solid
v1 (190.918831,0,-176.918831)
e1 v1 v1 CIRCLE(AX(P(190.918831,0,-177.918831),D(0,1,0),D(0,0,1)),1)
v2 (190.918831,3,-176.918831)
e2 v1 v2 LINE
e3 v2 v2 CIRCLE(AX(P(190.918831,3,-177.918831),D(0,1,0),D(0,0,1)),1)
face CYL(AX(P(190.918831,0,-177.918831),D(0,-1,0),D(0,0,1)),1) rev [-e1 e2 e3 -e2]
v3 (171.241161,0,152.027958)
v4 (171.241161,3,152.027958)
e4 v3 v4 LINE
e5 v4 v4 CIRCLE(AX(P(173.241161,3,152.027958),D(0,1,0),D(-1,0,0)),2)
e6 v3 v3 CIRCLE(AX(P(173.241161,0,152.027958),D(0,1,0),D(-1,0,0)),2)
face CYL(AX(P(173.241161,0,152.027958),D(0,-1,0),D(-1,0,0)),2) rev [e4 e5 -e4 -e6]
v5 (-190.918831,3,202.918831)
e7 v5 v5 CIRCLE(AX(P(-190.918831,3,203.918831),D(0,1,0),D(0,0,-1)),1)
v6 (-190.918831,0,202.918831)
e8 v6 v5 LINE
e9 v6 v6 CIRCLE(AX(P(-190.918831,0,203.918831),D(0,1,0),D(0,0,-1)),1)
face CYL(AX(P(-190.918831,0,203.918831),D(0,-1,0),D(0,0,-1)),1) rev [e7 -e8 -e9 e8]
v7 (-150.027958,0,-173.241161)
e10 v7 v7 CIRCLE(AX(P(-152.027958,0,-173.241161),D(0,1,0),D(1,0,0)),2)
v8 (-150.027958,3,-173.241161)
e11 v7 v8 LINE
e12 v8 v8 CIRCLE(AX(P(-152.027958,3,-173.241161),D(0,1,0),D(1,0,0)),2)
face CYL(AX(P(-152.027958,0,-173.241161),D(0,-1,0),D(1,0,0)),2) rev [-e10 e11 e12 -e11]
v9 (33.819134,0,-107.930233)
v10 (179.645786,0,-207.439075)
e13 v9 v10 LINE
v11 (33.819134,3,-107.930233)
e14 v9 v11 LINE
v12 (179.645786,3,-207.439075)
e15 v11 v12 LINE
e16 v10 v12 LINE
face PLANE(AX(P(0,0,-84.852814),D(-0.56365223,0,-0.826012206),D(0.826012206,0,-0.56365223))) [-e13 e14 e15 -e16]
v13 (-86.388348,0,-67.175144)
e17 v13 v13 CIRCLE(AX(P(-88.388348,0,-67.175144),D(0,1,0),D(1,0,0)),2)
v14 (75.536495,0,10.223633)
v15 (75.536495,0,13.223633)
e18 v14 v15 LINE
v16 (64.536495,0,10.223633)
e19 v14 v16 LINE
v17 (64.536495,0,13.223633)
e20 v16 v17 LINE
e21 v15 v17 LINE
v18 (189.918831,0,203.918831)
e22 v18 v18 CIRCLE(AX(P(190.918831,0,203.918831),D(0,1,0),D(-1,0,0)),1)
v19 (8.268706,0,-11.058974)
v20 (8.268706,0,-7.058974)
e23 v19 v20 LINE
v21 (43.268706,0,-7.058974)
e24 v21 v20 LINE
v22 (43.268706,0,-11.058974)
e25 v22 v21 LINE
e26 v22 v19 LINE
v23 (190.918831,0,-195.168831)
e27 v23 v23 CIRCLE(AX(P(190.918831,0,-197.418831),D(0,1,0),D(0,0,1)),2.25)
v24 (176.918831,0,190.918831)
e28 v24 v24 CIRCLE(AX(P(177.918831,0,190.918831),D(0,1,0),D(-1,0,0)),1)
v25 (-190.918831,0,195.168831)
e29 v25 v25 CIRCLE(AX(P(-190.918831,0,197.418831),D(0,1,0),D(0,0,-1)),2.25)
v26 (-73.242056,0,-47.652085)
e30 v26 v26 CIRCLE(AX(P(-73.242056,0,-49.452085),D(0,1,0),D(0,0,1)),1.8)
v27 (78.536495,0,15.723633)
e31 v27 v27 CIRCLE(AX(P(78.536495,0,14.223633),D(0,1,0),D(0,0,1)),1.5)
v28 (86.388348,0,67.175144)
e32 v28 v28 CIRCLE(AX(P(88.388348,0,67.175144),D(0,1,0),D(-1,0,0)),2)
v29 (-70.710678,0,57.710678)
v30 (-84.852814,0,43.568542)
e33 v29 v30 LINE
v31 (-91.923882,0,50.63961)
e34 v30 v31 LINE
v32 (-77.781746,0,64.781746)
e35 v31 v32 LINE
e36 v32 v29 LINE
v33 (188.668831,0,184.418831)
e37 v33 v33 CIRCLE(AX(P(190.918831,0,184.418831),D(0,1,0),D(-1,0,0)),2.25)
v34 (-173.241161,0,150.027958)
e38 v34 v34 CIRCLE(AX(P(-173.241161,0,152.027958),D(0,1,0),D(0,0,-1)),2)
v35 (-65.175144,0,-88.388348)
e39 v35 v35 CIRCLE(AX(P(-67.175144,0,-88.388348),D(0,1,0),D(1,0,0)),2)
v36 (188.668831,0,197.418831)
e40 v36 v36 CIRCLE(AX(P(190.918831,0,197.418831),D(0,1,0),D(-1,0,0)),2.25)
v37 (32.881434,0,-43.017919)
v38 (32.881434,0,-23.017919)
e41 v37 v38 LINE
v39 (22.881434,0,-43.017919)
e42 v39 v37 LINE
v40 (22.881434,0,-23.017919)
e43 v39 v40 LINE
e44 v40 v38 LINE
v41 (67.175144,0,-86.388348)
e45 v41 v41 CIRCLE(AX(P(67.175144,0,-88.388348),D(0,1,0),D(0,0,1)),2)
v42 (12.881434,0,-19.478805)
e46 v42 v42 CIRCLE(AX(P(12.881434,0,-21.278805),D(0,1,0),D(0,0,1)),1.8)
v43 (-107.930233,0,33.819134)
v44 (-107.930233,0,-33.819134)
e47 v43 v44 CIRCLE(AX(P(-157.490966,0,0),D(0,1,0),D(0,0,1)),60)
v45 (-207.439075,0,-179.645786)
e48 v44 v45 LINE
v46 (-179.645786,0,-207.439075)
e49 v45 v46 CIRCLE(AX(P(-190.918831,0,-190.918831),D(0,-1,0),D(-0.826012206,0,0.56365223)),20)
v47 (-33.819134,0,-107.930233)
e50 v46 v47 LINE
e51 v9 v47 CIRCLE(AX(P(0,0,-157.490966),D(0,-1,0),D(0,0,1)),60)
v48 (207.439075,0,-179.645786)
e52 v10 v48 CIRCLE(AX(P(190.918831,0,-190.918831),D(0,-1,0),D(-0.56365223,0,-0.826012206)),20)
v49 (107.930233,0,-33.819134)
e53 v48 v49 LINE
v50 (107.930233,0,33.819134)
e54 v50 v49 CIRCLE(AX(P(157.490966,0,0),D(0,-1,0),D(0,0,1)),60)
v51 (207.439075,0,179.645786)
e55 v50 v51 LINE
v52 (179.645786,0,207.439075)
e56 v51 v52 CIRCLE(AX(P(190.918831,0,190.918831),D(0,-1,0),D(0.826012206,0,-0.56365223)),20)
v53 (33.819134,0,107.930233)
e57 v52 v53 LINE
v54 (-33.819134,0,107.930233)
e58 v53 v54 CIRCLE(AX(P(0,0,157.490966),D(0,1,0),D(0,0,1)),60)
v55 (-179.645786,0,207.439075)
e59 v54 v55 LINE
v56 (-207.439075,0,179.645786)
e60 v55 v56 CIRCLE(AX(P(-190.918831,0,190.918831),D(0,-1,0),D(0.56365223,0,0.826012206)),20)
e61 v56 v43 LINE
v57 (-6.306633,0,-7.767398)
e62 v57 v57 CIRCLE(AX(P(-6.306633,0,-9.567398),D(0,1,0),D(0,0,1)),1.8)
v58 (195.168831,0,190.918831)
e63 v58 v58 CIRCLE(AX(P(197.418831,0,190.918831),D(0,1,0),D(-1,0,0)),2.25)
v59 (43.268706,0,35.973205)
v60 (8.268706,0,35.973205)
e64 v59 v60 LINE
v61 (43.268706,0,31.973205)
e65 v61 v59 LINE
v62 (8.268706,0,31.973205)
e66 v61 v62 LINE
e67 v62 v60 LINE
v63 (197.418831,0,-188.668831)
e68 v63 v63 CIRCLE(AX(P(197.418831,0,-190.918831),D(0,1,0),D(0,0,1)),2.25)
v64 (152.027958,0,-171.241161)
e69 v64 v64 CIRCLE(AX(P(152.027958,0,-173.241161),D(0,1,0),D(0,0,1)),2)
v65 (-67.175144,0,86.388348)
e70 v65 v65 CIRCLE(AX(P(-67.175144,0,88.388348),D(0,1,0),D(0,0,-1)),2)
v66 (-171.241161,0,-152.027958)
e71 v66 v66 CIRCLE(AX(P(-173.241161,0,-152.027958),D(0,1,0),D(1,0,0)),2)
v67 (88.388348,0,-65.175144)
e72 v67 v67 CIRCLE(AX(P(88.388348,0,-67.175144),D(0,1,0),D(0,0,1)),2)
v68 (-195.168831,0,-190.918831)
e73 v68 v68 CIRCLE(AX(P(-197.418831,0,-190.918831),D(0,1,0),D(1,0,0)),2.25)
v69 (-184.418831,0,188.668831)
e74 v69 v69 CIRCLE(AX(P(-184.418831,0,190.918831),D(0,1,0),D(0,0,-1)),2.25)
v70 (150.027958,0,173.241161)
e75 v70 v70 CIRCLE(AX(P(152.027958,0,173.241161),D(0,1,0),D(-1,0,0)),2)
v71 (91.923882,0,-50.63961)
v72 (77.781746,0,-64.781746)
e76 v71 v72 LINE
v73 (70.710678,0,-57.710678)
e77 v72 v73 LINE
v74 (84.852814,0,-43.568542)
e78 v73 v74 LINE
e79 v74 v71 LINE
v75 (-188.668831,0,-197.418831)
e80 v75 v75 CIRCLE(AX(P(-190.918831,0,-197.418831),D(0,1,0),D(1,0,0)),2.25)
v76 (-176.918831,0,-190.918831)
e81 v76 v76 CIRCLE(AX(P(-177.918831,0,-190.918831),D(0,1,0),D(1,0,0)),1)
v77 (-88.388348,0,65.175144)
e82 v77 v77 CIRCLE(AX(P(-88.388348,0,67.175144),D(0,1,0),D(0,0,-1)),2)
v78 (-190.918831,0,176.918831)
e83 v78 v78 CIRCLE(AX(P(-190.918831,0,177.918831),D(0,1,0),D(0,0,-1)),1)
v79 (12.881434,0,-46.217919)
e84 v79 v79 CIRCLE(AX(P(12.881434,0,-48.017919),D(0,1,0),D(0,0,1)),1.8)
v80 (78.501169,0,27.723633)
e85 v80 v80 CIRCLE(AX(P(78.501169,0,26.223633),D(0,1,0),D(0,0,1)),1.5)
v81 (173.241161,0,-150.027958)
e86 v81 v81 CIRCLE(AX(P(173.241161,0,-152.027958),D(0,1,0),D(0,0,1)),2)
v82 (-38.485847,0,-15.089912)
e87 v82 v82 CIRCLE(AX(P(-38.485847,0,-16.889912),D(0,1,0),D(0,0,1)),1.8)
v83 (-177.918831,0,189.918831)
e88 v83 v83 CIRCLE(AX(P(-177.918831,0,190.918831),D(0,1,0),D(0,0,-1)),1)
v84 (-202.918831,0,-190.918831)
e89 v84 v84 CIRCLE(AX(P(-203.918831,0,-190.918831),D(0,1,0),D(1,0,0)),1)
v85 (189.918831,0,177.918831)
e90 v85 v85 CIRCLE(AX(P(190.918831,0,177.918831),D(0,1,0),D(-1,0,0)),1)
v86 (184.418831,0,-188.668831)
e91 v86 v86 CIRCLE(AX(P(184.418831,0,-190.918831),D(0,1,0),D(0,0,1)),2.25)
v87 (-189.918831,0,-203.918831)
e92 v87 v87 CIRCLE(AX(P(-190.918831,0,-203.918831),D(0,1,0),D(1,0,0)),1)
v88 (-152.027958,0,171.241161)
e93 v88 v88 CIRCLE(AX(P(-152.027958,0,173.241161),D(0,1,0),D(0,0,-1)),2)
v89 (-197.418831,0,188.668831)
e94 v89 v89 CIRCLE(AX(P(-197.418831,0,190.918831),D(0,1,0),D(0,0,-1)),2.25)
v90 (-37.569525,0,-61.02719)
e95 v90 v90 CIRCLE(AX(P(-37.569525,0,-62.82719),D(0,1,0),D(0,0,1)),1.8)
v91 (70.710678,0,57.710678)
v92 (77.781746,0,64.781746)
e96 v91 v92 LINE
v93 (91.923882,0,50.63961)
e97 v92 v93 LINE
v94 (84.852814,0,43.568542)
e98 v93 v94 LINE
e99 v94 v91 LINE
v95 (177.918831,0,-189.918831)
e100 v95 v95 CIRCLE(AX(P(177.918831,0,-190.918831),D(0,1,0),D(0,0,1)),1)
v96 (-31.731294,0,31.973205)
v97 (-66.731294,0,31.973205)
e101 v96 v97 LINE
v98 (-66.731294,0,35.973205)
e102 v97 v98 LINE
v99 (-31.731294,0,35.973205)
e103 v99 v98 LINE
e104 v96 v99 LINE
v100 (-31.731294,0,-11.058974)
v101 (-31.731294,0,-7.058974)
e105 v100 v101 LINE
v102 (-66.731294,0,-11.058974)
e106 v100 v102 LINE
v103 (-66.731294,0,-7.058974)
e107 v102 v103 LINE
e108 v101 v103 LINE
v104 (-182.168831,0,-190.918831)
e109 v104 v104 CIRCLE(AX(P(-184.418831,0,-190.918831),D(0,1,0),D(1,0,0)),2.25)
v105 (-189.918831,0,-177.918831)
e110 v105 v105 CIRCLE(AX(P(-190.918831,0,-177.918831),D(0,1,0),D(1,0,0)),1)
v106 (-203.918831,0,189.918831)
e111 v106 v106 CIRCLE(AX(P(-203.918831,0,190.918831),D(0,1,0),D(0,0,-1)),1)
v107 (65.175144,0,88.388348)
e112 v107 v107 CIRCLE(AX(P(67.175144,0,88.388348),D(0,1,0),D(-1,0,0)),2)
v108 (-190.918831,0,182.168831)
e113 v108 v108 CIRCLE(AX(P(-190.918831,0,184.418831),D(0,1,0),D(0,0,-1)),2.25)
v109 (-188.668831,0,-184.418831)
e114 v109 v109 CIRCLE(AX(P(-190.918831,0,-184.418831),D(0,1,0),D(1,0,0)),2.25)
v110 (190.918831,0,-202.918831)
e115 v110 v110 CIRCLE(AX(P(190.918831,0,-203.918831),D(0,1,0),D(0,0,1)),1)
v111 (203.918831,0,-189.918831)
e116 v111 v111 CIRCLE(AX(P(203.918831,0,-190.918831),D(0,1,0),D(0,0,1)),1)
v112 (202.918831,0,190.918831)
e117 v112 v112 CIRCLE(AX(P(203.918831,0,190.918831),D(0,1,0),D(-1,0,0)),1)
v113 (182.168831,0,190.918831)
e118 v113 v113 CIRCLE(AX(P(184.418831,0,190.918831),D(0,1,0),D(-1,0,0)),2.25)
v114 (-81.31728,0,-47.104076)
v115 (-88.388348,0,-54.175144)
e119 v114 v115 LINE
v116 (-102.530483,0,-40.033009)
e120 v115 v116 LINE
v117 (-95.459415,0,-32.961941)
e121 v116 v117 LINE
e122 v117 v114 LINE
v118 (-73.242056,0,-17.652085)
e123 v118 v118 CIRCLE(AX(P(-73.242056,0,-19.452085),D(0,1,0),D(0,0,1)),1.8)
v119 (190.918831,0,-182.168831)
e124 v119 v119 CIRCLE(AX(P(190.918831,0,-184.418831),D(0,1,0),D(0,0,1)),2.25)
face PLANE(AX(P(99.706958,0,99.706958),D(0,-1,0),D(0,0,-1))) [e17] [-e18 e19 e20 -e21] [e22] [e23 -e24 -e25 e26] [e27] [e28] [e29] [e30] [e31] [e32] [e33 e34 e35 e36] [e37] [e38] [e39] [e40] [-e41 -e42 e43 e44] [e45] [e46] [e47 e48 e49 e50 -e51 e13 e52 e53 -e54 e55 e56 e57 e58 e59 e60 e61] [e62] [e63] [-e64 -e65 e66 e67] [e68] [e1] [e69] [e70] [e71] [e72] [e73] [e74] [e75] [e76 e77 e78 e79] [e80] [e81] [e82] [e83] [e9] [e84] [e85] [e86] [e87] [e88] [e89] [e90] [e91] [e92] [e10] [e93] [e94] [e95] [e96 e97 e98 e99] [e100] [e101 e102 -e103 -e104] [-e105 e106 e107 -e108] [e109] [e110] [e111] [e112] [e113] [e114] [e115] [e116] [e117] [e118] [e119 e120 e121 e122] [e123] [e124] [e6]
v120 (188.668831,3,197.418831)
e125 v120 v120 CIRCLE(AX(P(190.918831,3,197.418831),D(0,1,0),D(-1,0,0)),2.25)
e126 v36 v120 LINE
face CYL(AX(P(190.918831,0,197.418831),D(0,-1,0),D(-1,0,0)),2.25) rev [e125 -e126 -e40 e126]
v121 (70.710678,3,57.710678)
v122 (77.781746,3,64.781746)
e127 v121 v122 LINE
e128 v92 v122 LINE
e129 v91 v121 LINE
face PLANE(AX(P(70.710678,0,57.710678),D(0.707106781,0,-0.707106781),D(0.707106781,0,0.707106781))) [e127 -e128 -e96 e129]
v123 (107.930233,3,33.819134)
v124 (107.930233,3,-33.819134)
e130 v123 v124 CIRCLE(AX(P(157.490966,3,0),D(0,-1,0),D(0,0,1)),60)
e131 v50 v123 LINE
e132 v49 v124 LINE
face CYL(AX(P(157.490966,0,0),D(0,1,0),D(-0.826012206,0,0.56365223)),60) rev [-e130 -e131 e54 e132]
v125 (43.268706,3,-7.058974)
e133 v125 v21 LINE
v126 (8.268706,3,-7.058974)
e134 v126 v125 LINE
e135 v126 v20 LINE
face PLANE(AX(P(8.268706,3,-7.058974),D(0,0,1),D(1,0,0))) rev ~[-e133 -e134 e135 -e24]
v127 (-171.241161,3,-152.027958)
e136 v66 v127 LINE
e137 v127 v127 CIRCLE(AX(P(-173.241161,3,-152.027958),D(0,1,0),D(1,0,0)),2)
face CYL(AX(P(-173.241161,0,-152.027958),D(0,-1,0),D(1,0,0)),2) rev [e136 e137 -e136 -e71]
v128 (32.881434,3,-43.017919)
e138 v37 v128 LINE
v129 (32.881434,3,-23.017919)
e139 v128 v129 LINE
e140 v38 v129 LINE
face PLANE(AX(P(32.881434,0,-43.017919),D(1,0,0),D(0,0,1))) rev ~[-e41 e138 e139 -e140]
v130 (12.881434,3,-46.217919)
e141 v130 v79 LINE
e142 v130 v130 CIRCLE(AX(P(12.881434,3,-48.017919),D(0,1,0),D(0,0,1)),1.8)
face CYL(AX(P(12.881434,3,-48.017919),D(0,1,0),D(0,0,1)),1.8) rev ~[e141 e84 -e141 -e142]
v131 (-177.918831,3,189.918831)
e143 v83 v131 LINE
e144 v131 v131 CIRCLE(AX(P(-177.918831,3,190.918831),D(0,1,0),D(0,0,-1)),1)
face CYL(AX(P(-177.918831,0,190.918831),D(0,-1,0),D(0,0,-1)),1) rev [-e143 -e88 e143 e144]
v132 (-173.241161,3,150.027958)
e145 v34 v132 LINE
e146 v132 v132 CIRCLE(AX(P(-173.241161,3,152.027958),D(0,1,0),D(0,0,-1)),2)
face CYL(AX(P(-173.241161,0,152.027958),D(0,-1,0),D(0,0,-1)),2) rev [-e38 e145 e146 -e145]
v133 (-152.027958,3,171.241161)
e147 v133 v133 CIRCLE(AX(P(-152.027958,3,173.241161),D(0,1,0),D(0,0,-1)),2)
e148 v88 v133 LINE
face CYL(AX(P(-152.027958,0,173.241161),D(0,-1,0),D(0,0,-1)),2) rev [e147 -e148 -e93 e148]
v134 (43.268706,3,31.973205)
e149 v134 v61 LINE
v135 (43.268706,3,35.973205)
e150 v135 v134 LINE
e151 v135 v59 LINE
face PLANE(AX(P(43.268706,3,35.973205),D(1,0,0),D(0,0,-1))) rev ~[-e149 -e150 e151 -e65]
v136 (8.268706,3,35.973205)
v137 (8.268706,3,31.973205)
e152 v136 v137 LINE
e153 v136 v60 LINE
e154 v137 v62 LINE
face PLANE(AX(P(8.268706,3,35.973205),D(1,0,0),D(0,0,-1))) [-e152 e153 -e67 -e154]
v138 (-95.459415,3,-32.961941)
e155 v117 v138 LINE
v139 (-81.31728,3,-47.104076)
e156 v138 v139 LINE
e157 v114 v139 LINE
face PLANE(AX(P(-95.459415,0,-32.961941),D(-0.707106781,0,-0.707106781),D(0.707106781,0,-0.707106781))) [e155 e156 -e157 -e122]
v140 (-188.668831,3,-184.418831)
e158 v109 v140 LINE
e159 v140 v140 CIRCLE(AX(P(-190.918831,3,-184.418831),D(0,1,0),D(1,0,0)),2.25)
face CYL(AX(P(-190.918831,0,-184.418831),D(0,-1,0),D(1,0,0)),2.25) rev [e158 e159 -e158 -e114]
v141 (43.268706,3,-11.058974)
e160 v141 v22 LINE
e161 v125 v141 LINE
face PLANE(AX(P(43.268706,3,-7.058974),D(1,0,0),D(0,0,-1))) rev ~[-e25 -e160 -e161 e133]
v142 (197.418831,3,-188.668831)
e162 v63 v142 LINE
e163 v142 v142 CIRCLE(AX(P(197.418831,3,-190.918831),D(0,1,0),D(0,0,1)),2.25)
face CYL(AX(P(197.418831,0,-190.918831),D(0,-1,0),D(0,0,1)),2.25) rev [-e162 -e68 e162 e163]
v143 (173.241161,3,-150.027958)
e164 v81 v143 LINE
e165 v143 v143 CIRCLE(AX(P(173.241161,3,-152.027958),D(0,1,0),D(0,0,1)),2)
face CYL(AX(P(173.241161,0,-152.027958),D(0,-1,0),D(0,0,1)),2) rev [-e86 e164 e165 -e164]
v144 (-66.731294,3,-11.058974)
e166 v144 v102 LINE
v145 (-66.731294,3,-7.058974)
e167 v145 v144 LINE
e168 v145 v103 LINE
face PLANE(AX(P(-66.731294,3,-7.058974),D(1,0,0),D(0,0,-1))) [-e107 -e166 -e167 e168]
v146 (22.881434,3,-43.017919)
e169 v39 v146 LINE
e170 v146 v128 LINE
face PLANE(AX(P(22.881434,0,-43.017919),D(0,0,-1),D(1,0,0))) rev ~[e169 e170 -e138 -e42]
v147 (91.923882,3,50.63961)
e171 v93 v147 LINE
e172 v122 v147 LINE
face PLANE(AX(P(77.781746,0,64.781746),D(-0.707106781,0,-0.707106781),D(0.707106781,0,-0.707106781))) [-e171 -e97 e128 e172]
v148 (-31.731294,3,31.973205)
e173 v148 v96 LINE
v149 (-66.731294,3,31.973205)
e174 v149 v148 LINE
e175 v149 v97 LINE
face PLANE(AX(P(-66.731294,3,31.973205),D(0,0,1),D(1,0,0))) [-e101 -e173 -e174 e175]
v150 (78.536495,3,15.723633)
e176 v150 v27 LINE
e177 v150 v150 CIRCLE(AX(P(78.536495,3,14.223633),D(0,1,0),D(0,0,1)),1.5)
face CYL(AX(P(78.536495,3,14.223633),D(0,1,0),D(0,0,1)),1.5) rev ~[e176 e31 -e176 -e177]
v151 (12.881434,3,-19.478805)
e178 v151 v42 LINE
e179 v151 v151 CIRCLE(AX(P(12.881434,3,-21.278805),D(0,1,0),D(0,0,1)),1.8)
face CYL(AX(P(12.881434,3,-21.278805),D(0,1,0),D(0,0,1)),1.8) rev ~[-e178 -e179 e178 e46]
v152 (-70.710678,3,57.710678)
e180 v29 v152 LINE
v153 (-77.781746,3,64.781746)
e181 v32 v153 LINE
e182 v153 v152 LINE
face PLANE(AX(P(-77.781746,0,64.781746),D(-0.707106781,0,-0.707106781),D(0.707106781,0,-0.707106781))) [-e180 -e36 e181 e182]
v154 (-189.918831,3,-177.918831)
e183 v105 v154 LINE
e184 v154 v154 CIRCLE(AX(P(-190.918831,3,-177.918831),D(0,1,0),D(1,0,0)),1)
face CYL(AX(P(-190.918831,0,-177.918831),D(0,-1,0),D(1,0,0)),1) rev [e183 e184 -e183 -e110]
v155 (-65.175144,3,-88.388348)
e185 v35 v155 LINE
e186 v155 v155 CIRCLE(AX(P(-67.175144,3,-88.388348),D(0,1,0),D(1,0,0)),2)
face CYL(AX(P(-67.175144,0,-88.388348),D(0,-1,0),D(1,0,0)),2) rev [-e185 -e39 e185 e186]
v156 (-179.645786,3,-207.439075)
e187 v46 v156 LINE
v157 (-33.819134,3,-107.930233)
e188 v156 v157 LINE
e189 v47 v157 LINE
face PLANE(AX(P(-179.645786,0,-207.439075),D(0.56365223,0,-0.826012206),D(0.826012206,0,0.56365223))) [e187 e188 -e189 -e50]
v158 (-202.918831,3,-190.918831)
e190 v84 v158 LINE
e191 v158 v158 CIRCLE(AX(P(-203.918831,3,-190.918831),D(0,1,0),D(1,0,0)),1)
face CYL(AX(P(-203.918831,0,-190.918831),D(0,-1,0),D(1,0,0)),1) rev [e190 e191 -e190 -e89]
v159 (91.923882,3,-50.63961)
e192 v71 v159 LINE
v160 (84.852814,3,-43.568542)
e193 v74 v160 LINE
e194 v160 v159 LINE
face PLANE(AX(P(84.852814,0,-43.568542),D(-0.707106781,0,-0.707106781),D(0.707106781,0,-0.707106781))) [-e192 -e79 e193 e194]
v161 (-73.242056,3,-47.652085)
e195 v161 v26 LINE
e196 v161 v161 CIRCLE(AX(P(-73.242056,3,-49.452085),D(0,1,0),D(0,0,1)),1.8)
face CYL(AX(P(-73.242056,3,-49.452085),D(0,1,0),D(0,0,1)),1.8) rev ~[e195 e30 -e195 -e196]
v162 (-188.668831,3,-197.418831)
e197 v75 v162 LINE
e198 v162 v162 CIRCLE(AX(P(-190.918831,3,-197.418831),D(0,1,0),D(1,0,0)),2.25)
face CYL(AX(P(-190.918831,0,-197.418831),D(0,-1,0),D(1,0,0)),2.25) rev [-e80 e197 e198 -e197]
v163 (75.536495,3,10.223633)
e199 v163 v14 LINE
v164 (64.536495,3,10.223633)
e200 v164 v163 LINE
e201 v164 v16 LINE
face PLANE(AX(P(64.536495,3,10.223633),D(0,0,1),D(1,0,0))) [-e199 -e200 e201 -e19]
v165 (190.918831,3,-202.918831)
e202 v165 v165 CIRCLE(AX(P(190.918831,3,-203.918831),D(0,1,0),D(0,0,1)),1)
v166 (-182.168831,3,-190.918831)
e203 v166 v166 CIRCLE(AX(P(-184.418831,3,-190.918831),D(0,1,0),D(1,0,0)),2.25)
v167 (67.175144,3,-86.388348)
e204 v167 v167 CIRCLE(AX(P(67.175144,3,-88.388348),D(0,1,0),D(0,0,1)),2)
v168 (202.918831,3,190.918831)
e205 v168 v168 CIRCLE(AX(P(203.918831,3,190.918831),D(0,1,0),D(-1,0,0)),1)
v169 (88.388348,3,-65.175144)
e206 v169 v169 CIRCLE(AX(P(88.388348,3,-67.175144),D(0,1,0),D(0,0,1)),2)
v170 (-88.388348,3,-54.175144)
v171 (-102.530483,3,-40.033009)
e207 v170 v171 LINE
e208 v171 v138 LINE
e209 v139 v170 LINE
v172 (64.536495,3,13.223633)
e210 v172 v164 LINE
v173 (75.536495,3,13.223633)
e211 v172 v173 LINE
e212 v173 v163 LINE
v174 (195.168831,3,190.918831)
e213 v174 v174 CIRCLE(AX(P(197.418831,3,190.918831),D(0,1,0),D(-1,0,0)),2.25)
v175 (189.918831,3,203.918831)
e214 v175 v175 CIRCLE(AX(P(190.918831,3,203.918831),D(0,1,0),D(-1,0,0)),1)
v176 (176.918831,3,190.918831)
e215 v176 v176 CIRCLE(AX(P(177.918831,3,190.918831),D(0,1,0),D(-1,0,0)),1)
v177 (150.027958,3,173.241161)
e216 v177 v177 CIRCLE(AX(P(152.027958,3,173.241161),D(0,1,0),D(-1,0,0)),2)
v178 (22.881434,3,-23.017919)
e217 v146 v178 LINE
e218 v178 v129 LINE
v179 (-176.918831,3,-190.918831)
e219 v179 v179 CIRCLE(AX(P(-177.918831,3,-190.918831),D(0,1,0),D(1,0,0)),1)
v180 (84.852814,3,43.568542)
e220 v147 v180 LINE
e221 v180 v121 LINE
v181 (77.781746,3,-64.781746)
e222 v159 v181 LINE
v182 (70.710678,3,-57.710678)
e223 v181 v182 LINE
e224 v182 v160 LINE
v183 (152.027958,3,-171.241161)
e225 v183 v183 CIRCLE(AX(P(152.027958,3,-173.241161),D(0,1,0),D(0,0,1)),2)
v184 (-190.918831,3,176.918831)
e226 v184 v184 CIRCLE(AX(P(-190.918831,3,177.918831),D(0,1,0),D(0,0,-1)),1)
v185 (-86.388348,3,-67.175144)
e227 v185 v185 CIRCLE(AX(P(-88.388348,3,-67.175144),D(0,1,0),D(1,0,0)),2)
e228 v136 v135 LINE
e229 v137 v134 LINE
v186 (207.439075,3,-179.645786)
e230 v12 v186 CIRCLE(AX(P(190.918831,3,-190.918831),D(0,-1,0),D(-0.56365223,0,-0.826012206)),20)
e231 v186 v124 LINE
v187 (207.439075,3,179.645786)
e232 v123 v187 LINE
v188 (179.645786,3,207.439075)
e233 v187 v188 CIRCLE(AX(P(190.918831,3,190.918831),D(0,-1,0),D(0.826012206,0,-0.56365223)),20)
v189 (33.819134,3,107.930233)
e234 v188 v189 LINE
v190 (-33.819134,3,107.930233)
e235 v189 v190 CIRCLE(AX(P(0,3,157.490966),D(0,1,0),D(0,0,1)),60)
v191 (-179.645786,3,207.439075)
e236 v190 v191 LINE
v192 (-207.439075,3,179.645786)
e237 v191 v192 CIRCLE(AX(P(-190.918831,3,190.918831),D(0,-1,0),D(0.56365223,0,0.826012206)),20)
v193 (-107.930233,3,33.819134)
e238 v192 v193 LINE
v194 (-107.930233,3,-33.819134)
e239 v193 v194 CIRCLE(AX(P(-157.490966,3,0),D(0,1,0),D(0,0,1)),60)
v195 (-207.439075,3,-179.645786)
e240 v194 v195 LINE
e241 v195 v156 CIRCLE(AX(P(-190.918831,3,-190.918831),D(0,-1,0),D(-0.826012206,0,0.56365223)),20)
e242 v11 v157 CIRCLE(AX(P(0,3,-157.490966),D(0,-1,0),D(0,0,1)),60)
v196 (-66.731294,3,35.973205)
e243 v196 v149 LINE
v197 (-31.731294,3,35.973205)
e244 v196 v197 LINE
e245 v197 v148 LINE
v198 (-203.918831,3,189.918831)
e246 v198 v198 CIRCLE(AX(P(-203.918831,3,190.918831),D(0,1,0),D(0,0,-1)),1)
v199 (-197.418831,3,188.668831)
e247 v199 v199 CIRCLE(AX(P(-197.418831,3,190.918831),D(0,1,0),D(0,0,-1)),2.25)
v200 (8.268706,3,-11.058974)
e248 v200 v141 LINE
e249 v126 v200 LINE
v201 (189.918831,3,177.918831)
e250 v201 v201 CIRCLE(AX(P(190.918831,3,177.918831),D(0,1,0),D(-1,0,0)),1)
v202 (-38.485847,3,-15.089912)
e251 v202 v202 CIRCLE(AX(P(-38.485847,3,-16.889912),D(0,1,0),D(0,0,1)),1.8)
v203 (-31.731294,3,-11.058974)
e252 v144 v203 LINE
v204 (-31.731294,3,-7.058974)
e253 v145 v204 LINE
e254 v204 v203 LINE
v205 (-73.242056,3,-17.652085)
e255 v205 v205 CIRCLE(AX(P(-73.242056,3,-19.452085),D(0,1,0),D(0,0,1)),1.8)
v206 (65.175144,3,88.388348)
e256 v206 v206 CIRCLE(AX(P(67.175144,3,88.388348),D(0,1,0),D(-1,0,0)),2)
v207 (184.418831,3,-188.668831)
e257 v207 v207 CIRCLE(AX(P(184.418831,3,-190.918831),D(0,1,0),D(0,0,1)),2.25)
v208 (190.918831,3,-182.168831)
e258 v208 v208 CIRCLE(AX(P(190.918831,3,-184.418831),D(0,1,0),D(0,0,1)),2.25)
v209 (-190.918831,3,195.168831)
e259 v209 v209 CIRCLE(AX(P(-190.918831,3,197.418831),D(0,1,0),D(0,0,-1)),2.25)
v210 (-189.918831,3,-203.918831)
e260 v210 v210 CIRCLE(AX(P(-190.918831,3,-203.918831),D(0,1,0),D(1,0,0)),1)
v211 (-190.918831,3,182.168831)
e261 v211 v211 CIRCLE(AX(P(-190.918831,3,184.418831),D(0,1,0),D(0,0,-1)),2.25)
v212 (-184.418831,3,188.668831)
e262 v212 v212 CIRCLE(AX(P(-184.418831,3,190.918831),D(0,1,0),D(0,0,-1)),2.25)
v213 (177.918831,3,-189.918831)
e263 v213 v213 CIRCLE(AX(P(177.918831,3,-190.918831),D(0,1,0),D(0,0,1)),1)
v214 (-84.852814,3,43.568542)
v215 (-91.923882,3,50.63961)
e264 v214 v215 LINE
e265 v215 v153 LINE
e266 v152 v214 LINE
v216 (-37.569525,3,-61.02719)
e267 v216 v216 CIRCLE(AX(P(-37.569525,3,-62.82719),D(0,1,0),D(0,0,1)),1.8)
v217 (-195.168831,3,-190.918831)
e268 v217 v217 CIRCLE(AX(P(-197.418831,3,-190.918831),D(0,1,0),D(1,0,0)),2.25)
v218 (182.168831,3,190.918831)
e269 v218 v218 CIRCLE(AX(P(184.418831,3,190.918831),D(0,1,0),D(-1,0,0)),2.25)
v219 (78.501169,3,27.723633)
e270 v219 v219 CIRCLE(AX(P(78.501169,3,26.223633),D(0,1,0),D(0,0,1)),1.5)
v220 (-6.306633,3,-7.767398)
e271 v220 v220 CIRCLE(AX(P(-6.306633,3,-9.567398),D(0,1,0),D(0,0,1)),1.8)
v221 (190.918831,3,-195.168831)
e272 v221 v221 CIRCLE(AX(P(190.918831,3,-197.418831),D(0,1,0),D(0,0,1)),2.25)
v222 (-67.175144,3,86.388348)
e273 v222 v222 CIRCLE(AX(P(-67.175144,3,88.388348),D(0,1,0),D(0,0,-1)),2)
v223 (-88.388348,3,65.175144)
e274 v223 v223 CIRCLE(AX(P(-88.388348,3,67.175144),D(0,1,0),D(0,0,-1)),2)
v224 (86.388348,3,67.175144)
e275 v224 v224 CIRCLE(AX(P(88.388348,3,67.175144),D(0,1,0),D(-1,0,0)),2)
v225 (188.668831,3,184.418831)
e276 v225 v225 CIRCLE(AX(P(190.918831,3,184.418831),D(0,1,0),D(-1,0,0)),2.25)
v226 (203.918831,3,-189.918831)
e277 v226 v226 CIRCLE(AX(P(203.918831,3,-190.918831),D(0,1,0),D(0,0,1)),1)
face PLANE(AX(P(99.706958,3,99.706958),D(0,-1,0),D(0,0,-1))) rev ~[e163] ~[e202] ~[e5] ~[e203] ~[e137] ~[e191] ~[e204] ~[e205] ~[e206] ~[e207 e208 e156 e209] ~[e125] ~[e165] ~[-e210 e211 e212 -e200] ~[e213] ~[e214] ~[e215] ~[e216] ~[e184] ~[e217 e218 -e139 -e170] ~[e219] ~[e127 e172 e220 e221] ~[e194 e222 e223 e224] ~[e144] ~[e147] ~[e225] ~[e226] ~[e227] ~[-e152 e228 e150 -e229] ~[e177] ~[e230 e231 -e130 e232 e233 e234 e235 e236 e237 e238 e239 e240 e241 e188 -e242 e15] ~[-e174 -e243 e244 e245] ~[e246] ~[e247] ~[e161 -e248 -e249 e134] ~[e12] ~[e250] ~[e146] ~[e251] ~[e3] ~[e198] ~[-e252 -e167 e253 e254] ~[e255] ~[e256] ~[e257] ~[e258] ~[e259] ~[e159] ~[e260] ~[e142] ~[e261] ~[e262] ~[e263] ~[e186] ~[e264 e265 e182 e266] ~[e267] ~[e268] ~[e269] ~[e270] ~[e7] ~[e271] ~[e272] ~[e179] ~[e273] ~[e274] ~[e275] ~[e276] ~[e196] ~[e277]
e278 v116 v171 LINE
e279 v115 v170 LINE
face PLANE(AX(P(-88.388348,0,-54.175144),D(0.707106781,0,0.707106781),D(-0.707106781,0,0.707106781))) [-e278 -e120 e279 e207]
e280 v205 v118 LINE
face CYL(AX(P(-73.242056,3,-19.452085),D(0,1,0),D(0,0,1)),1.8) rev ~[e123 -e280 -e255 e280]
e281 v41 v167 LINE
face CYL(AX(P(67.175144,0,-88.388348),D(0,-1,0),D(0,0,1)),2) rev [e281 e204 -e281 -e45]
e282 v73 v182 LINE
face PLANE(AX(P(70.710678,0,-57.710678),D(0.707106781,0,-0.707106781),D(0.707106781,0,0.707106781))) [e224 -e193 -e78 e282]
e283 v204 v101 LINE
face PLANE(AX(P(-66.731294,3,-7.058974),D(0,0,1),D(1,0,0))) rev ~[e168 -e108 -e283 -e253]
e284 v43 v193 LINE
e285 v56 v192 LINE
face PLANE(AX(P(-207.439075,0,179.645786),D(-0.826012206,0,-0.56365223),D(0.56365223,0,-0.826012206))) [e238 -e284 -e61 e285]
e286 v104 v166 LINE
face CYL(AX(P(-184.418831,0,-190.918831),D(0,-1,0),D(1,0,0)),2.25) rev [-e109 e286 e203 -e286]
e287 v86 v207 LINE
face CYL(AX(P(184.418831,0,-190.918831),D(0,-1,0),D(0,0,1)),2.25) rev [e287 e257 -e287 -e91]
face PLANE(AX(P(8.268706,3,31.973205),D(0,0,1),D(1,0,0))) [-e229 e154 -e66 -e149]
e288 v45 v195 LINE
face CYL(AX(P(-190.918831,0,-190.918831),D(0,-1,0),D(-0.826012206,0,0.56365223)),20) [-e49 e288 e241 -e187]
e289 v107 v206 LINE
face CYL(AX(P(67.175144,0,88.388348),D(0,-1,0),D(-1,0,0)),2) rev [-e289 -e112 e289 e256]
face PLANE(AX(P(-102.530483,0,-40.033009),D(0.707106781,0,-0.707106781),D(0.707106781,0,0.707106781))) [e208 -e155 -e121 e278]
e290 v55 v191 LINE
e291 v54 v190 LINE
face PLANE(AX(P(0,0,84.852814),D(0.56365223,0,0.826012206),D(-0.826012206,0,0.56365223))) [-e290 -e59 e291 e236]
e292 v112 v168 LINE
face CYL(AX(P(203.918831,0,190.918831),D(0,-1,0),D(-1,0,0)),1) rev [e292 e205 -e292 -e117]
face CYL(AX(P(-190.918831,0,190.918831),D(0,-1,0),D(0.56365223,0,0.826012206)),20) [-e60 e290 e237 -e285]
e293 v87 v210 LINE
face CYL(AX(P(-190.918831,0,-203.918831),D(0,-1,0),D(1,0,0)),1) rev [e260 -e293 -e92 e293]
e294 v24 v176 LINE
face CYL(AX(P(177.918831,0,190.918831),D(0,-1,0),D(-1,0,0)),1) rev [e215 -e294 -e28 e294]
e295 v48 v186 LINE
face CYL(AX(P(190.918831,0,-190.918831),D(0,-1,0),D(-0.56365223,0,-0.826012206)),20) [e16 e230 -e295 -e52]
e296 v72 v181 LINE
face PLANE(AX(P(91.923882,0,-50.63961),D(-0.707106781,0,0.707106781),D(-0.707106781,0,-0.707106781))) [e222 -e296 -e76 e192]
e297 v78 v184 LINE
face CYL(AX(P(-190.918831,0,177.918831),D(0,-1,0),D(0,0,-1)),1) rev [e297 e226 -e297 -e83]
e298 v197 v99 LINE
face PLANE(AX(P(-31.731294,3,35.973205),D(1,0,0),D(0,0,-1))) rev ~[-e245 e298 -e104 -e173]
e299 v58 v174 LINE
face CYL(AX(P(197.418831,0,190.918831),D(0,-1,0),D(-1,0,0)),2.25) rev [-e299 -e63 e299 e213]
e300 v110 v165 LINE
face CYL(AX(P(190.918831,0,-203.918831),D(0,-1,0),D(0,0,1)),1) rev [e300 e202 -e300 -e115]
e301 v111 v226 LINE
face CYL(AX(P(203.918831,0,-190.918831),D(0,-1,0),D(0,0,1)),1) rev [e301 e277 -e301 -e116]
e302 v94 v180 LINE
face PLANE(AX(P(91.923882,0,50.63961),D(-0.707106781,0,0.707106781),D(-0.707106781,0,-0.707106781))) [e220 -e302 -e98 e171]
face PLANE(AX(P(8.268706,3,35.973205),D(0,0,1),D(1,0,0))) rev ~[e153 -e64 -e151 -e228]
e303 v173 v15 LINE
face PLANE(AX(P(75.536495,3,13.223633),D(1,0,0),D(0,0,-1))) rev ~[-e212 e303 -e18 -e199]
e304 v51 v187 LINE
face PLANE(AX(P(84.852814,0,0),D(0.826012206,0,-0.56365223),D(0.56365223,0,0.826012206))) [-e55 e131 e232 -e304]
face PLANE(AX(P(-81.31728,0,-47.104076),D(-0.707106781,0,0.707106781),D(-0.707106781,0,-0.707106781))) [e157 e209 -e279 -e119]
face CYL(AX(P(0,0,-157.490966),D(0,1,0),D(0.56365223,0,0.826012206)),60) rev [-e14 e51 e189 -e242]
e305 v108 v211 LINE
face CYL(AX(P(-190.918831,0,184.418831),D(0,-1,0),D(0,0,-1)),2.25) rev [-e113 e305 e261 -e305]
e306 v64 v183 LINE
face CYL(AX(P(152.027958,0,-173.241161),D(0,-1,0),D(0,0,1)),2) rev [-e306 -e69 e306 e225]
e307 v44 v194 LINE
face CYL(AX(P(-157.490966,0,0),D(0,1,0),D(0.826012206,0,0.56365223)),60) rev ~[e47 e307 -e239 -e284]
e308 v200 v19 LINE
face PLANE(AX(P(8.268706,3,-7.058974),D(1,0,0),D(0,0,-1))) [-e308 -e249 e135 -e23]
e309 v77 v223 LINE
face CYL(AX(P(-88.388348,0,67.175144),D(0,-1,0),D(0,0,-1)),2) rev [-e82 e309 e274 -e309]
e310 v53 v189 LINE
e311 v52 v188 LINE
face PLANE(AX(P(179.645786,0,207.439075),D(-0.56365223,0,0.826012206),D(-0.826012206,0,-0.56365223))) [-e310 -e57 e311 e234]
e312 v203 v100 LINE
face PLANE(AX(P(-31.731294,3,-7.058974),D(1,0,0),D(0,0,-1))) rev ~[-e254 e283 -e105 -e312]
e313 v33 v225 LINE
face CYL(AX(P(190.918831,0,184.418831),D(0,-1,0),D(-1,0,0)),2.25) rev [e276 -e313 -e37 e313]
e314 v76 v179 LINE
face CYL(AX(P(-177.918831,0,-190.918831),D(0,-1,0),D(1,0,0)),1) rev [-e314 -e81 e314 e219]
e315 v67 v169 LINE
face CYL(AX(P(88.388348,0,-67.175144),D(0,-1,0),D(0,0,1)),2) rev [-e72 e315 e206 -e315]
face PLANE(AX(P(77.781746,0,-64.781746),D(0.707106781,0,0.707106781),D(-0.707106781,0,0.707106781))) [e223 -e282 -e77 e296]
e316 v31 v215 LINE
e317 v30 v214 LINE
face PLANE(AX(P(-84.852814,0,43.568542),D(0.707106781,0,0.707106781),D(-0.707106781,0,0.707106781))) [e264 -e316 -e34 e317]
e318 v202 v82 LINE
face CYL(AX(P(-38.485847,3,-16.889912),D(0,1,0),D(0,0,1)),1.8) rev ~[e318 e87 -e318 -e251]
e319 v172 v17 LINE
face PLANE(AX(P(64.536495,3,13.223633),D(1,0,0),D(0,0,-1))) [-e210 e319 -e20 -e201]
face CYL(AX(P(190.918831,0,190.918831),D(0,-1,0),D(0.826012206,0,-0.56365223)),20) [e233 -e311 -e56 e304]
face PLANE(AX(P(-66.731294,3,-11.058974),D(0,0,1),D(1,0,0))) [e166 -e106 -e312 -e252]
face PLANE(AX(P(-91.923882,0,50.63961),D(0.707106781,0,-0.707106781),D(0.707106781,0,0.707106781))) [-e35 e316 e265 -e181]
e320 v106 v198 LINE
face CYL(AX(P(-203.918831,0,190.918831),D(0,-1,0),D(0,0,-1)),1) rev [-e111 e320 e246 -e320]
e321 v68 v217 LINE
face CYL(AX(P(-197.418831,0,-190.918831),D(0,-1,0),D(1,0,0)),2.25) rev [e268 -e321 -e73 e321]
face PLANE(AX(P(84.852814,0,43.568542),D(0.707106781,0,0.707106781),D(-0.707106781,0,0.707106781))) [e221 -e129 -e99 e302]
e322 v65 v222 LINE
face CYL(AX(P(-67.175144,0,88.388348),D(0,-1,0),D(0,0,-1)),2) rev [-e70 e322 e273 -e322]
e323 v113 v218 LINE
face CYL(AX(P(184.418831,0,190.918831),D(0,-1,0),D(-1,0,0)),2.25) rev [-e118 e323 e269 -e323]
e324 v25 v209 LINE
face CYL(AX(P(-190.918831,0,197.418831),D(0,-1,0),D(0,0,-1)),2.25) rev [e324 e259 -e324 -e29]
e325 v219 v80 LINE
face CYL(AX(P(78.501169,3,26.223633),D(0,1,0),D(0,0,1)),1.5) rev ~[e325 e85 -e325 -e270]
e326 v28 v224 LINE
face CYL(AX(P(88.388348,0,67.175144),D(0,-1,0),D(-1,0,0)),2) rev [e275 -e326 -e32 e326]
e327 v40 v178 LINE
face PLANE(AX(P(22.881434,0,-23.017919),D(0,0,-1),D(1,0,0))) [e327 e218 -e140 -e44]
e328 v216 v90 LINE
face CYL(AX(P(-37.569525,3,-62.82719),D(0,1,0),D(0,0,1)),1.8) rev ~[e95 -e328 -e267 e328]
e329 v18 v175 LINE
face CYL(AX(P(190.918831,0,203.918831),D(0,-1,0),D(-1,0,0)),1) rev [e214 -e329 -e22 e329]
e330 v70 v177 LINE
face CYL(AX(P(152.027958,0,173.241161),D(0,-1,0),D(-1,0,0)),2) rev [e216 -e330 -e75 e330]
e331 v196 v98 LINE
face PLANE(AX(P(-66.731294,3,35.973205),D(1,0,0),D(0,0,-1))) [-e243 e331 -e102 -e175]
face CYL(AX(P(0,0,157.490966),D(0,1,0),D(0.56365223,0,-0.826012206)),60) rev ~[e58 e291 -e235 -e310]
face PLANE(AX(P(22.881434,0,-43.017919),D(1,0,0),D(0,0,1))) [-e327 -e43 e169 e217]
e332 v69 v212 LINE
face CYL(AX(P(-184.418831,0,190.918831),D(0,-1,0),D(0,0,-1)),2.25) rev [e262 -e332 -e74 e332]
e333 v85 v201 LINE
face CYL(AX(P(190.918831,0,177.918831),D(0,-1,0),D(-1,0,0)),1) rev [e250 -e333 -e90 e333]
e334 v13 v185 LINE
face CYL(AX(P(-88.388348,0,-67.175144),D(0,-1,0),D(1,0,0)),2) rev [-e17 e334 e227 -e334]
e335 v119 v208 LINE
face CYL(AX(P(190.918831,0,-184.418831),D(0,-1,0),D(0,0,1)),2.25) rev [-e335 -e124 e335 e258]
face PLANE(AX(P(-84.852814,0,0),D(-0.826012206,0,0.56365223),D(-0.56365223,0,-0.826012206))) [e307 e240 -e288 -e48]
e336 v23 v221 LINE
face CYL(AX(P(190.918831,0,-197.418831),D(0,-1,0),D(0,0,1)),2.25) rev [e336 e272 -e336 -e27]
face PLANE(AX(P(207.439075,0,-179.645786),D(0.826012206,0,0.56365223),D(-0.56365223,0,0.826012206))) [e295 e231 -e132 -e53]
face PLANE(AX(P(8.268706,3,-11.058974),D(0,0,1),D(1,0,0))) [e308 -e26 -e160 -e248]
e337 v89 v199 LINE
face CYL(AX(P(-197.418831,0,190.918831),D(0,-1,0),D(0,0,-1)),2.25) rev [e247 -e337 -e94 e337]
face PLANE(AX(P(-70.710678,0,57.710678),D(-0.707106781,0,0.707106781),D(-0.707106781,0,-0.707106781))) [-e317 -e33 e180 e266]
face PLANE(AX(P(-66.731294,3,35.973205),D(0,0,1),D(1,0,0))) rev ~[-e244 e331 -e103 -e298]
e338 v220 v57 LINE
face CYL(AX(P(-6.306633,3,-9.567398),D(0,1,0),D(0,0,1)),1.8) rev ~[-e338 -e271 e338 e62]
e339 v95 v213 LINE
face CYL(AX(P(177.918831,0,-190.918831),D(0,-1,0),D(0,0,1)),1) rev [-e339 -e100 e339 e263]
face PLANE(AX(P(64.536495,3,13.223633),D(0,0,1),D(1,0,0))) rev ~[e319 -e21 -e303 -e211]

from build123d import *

# Parameters (mm, degrees)
SKETCH1_R           = 1
SKETCH1_R_2         = 2.25
SKETCH1_R_3         = 2
BOSS_EXTRUDE1_DEPTH = 3
CIRPATTERN1_COUNT   = 4
SKETCH2_R           = 1.5
SKETCH2_R_2         = 1.8
SKETCH2_W           = 35
SKETCH2_H           = 4
CUT_EXTRUDE1_DEPTH  = 299.299357146
FILLET1_R           = 60
SKETCH6_W           = 10
SKETCH6_H           = 20
CUT_EXTRUDE2_DEPTH  = 10
SKETCH7_W           = 11
SKETCH7_H           = 3
CUT_EXTRUDE3_DEPTH  = 299.299357146


with BuildPart() as part:
    # Sketch1 → Boss-Extrude1 (new body)
    with BuildSketch(Plane(origin=(0, 0, 0), x_dir=(1, 0, 0), z_dir=(0, 1, 0))):
        with BuildLine():
            Line((0, 84.852813742), (179.645786322, 207.439075031))
            ThreePointArc((179.645786322, 207.439075031), (205.060966544, 205.060966544), (207.439075031, 179.645786322))
            Line((207.439075031, 179.645786322), (84.852813742, 0))
            Line((84.852813742, 0), (0, 0))
            Line((0, 0), (0, 84.852813742))
        make_face()
        with Locations(Location((177.91883092, 190.91883092, 0), (0, 0, 270))):
            Circle(SKETCH1_R, mode=Mode.SUBTRACT)
        with Locations(Location((190.91883092, 203.91883092, 0), (0, 0, 270))):
            Circle(SKETCH1_R, mode=Mode.SUBTRACT)
        with Locations(Location((203.91883092, 190.91883092, 0), (0, 0, 270))):
            Circle(SKETCH1_R, mode=Mode.SUBTRACT)
        with Locations(Location((197.41883092, 190.91883092, 0), (0, 0, 270))):
            Circle(SKETCH1_R_2, mode=Mode.SUBTRACT)
        with Locations(Location((190.91883092, 197.41883092, 0), (0, 0, 270))):
            Circle(SKETCH1_R_2, mode=Mode.SUBTRACT)
        with Locations(Location((184.41883092, 190.91883092, 0), (0, 0, 270))):
            Circle(SKETCH1_R_2, mode=Mode.SUBTRACT)
        with Locations(Location((190.91883092, 184.41883092, 0), (0, 0, 270))):
            Circle(SKETCH1_R_2, mode=Mode.SUBTRACT)
        with Locations(Location((190.91883092, 177.91883092, 0), (0, 0, 270))):
            Circle(SKETCH1_R, mode=Mode.SUBTRACT)
        with Locations(Location((152.027957955, 173.241161391, 0), (0, 0, 270))):
            Circle(SKETCH1_R_3, mode=Mode.SUBTRACT)
        with Locations(Location((173.241161391, 152.027957955, 0), (0, 0, 270))):
            Circle(SKETCH1_R_3, mode=Mode.SUBTRACT)
        with Locations(Location((67.175144213, 88.388347648, 0), (0, 0, 270))):
            Circle(SKETCH1_R_3, mode=Mode.SUBTRACT)
        with Locations(Location((88.388347648, 67.175144213, 0), (0, 0, 270))):
            Circle(SKETCH1_R_3, mode=Mode.SUBTRACT)
    boss_extrude1 = extrude(amount=BOSS_EXTRUDE1_DEPTH)

    # CirPattern1: Boss-Extrude1 ×4 about axis
    cirpattern1_axis = Axis((0, 0, 0), (0, 1, 0))
    for i in range(1, CIRPATTERN1_COUNT):
        add(boss_extrude1.rotate(cirpattern1_axis, i * 360 / CIRPATTERN1_COUNT))

    # Sketch2 → Cut-Extrude1 (cut, through all)
    with BuildSketch(Plane(origin=(0, 3, 0), x_dir=(1, 0, 0), z_dir=(0, 1, 0))):
        with Locations(Location((78.536494873, -14.223633123, 0), (0, 0, 270))):
            Circle(SKETCH2_R)
        with Locations(Location((78.501168955, -26.223633123, 0), (0, 0, 270))):
            Circle(SKETCH2_R)
        with Locations(Location((12.881434281, 21.278805396, 0), (0, 0, 270))):
            Circle(SKETCH2_R_2)
        with Locations(Location((12.881434281, 48.01791892, 0), (0, 0, 270))):
            Circle(SKETCH2_R_2)
        with Locations(Location((-38.485846848, 16.889912116, 0), (0, 0, 270))):
            Circle(SKETCH2_R_2)
        with Locations(Location((-37.569525332, 62.827189776, 0), (0, 0, 270))):
            Circle(SKETCH2_R_2)
        with Locations(Location((-73.242055549, 49.452085076, 0), (0, 0, 270))):
            Circle(SKETCH2_R_2)
        with Locations(Location((-6.306632568, 9.567397571, 0), (0, 0, 270))):
            Circle(SKETCH2_R_2)
        with Locations(Location((-73.242055549, 19.452085076, 0), (0, 0, 270))):
            Circle(SKETCH2_R_2)
        with Locations((-49.231294494, 9.058974397)):
            Rectangle(SKETCH2_W, SKETCH2_H)
        with Locations((25.768705506, 9.058974397)):
            Rectangle(SKETCH2_W, SKETCH2_H)
        with Locations((-49.231294494, -33.973204669)):
            Rectangle(SKETCH2_W, SKETCH2_H)
        with Locations((25.768705506, -33.973204669)):
            Rectangle(SKETCH2_W, SKETCH2_H)
    extrude(amount=-CUT_EXTRUDE1_DEPTH, mode=Mode.SUBTRACT)

    # Fillet1
    fillet1_edges = [part.edges().sort_by_distance(p)[0] for p in [
        (-84.852813742, 1.5, 0),
        (0, 1.5, -84.852813742),
        (0, 1.5, 84.852813742),
        (84.852813742, 1.5, 0),
    ]]
    fillet(fillet1_edges, radius=FILLET1_R)

    # Sketch6 → Cut-Extrude2 (cut)
    with BuildSketch(Plane.XZ):
        Polygon((-91.923881554, 50.639610307), (-77.781745931, 64.781745931), (-70.710678119, 57.710678119), (-84.852813742, 43.568542495), align=None)
        Polygon((-102.530483272, -40.033008589), (-95.45941546, -32.961940777), (-81.317279836, -47.104076401), (-88.388347648, -54.175144213), align=None)
        Polygon((77.781745931, -64.781745931), (70.710678119, -57.710678119), (84.852813742, -43.568542495), (91.923881554, -50.639610307), align=None)
        Polygon((84.852813742, 43.568542495), (70.710678119, 57.710678119), (77.781745931, 64.781745931), (91.923881554, 50.639610307), align=None)
        with Locations((27.881434281, -33.01791892)):
            Rectangle(SKETCH6_W, SKETCH6_H)
    extrude(amount=-CUT_EXTRUDE2_DEPTH, mode=Mode.SUBTRACT)

    # Sketch7 → Cut-Extrude3 (cut, through all)
    with BuildSketch(Plane(origin=(0, 3, 0), x_dir=(1, 0, 0), z_dir=(0, 1, 0))):
        with Locations((70.036494873, -11.723633123)):
            Rectangle(SKETCH7_W, SKETCH7_H)
    extrude(amount=-CUT_EXTRUDE3_DEPTH, mode=Mode.SUBTRACT)


solid = part.part
